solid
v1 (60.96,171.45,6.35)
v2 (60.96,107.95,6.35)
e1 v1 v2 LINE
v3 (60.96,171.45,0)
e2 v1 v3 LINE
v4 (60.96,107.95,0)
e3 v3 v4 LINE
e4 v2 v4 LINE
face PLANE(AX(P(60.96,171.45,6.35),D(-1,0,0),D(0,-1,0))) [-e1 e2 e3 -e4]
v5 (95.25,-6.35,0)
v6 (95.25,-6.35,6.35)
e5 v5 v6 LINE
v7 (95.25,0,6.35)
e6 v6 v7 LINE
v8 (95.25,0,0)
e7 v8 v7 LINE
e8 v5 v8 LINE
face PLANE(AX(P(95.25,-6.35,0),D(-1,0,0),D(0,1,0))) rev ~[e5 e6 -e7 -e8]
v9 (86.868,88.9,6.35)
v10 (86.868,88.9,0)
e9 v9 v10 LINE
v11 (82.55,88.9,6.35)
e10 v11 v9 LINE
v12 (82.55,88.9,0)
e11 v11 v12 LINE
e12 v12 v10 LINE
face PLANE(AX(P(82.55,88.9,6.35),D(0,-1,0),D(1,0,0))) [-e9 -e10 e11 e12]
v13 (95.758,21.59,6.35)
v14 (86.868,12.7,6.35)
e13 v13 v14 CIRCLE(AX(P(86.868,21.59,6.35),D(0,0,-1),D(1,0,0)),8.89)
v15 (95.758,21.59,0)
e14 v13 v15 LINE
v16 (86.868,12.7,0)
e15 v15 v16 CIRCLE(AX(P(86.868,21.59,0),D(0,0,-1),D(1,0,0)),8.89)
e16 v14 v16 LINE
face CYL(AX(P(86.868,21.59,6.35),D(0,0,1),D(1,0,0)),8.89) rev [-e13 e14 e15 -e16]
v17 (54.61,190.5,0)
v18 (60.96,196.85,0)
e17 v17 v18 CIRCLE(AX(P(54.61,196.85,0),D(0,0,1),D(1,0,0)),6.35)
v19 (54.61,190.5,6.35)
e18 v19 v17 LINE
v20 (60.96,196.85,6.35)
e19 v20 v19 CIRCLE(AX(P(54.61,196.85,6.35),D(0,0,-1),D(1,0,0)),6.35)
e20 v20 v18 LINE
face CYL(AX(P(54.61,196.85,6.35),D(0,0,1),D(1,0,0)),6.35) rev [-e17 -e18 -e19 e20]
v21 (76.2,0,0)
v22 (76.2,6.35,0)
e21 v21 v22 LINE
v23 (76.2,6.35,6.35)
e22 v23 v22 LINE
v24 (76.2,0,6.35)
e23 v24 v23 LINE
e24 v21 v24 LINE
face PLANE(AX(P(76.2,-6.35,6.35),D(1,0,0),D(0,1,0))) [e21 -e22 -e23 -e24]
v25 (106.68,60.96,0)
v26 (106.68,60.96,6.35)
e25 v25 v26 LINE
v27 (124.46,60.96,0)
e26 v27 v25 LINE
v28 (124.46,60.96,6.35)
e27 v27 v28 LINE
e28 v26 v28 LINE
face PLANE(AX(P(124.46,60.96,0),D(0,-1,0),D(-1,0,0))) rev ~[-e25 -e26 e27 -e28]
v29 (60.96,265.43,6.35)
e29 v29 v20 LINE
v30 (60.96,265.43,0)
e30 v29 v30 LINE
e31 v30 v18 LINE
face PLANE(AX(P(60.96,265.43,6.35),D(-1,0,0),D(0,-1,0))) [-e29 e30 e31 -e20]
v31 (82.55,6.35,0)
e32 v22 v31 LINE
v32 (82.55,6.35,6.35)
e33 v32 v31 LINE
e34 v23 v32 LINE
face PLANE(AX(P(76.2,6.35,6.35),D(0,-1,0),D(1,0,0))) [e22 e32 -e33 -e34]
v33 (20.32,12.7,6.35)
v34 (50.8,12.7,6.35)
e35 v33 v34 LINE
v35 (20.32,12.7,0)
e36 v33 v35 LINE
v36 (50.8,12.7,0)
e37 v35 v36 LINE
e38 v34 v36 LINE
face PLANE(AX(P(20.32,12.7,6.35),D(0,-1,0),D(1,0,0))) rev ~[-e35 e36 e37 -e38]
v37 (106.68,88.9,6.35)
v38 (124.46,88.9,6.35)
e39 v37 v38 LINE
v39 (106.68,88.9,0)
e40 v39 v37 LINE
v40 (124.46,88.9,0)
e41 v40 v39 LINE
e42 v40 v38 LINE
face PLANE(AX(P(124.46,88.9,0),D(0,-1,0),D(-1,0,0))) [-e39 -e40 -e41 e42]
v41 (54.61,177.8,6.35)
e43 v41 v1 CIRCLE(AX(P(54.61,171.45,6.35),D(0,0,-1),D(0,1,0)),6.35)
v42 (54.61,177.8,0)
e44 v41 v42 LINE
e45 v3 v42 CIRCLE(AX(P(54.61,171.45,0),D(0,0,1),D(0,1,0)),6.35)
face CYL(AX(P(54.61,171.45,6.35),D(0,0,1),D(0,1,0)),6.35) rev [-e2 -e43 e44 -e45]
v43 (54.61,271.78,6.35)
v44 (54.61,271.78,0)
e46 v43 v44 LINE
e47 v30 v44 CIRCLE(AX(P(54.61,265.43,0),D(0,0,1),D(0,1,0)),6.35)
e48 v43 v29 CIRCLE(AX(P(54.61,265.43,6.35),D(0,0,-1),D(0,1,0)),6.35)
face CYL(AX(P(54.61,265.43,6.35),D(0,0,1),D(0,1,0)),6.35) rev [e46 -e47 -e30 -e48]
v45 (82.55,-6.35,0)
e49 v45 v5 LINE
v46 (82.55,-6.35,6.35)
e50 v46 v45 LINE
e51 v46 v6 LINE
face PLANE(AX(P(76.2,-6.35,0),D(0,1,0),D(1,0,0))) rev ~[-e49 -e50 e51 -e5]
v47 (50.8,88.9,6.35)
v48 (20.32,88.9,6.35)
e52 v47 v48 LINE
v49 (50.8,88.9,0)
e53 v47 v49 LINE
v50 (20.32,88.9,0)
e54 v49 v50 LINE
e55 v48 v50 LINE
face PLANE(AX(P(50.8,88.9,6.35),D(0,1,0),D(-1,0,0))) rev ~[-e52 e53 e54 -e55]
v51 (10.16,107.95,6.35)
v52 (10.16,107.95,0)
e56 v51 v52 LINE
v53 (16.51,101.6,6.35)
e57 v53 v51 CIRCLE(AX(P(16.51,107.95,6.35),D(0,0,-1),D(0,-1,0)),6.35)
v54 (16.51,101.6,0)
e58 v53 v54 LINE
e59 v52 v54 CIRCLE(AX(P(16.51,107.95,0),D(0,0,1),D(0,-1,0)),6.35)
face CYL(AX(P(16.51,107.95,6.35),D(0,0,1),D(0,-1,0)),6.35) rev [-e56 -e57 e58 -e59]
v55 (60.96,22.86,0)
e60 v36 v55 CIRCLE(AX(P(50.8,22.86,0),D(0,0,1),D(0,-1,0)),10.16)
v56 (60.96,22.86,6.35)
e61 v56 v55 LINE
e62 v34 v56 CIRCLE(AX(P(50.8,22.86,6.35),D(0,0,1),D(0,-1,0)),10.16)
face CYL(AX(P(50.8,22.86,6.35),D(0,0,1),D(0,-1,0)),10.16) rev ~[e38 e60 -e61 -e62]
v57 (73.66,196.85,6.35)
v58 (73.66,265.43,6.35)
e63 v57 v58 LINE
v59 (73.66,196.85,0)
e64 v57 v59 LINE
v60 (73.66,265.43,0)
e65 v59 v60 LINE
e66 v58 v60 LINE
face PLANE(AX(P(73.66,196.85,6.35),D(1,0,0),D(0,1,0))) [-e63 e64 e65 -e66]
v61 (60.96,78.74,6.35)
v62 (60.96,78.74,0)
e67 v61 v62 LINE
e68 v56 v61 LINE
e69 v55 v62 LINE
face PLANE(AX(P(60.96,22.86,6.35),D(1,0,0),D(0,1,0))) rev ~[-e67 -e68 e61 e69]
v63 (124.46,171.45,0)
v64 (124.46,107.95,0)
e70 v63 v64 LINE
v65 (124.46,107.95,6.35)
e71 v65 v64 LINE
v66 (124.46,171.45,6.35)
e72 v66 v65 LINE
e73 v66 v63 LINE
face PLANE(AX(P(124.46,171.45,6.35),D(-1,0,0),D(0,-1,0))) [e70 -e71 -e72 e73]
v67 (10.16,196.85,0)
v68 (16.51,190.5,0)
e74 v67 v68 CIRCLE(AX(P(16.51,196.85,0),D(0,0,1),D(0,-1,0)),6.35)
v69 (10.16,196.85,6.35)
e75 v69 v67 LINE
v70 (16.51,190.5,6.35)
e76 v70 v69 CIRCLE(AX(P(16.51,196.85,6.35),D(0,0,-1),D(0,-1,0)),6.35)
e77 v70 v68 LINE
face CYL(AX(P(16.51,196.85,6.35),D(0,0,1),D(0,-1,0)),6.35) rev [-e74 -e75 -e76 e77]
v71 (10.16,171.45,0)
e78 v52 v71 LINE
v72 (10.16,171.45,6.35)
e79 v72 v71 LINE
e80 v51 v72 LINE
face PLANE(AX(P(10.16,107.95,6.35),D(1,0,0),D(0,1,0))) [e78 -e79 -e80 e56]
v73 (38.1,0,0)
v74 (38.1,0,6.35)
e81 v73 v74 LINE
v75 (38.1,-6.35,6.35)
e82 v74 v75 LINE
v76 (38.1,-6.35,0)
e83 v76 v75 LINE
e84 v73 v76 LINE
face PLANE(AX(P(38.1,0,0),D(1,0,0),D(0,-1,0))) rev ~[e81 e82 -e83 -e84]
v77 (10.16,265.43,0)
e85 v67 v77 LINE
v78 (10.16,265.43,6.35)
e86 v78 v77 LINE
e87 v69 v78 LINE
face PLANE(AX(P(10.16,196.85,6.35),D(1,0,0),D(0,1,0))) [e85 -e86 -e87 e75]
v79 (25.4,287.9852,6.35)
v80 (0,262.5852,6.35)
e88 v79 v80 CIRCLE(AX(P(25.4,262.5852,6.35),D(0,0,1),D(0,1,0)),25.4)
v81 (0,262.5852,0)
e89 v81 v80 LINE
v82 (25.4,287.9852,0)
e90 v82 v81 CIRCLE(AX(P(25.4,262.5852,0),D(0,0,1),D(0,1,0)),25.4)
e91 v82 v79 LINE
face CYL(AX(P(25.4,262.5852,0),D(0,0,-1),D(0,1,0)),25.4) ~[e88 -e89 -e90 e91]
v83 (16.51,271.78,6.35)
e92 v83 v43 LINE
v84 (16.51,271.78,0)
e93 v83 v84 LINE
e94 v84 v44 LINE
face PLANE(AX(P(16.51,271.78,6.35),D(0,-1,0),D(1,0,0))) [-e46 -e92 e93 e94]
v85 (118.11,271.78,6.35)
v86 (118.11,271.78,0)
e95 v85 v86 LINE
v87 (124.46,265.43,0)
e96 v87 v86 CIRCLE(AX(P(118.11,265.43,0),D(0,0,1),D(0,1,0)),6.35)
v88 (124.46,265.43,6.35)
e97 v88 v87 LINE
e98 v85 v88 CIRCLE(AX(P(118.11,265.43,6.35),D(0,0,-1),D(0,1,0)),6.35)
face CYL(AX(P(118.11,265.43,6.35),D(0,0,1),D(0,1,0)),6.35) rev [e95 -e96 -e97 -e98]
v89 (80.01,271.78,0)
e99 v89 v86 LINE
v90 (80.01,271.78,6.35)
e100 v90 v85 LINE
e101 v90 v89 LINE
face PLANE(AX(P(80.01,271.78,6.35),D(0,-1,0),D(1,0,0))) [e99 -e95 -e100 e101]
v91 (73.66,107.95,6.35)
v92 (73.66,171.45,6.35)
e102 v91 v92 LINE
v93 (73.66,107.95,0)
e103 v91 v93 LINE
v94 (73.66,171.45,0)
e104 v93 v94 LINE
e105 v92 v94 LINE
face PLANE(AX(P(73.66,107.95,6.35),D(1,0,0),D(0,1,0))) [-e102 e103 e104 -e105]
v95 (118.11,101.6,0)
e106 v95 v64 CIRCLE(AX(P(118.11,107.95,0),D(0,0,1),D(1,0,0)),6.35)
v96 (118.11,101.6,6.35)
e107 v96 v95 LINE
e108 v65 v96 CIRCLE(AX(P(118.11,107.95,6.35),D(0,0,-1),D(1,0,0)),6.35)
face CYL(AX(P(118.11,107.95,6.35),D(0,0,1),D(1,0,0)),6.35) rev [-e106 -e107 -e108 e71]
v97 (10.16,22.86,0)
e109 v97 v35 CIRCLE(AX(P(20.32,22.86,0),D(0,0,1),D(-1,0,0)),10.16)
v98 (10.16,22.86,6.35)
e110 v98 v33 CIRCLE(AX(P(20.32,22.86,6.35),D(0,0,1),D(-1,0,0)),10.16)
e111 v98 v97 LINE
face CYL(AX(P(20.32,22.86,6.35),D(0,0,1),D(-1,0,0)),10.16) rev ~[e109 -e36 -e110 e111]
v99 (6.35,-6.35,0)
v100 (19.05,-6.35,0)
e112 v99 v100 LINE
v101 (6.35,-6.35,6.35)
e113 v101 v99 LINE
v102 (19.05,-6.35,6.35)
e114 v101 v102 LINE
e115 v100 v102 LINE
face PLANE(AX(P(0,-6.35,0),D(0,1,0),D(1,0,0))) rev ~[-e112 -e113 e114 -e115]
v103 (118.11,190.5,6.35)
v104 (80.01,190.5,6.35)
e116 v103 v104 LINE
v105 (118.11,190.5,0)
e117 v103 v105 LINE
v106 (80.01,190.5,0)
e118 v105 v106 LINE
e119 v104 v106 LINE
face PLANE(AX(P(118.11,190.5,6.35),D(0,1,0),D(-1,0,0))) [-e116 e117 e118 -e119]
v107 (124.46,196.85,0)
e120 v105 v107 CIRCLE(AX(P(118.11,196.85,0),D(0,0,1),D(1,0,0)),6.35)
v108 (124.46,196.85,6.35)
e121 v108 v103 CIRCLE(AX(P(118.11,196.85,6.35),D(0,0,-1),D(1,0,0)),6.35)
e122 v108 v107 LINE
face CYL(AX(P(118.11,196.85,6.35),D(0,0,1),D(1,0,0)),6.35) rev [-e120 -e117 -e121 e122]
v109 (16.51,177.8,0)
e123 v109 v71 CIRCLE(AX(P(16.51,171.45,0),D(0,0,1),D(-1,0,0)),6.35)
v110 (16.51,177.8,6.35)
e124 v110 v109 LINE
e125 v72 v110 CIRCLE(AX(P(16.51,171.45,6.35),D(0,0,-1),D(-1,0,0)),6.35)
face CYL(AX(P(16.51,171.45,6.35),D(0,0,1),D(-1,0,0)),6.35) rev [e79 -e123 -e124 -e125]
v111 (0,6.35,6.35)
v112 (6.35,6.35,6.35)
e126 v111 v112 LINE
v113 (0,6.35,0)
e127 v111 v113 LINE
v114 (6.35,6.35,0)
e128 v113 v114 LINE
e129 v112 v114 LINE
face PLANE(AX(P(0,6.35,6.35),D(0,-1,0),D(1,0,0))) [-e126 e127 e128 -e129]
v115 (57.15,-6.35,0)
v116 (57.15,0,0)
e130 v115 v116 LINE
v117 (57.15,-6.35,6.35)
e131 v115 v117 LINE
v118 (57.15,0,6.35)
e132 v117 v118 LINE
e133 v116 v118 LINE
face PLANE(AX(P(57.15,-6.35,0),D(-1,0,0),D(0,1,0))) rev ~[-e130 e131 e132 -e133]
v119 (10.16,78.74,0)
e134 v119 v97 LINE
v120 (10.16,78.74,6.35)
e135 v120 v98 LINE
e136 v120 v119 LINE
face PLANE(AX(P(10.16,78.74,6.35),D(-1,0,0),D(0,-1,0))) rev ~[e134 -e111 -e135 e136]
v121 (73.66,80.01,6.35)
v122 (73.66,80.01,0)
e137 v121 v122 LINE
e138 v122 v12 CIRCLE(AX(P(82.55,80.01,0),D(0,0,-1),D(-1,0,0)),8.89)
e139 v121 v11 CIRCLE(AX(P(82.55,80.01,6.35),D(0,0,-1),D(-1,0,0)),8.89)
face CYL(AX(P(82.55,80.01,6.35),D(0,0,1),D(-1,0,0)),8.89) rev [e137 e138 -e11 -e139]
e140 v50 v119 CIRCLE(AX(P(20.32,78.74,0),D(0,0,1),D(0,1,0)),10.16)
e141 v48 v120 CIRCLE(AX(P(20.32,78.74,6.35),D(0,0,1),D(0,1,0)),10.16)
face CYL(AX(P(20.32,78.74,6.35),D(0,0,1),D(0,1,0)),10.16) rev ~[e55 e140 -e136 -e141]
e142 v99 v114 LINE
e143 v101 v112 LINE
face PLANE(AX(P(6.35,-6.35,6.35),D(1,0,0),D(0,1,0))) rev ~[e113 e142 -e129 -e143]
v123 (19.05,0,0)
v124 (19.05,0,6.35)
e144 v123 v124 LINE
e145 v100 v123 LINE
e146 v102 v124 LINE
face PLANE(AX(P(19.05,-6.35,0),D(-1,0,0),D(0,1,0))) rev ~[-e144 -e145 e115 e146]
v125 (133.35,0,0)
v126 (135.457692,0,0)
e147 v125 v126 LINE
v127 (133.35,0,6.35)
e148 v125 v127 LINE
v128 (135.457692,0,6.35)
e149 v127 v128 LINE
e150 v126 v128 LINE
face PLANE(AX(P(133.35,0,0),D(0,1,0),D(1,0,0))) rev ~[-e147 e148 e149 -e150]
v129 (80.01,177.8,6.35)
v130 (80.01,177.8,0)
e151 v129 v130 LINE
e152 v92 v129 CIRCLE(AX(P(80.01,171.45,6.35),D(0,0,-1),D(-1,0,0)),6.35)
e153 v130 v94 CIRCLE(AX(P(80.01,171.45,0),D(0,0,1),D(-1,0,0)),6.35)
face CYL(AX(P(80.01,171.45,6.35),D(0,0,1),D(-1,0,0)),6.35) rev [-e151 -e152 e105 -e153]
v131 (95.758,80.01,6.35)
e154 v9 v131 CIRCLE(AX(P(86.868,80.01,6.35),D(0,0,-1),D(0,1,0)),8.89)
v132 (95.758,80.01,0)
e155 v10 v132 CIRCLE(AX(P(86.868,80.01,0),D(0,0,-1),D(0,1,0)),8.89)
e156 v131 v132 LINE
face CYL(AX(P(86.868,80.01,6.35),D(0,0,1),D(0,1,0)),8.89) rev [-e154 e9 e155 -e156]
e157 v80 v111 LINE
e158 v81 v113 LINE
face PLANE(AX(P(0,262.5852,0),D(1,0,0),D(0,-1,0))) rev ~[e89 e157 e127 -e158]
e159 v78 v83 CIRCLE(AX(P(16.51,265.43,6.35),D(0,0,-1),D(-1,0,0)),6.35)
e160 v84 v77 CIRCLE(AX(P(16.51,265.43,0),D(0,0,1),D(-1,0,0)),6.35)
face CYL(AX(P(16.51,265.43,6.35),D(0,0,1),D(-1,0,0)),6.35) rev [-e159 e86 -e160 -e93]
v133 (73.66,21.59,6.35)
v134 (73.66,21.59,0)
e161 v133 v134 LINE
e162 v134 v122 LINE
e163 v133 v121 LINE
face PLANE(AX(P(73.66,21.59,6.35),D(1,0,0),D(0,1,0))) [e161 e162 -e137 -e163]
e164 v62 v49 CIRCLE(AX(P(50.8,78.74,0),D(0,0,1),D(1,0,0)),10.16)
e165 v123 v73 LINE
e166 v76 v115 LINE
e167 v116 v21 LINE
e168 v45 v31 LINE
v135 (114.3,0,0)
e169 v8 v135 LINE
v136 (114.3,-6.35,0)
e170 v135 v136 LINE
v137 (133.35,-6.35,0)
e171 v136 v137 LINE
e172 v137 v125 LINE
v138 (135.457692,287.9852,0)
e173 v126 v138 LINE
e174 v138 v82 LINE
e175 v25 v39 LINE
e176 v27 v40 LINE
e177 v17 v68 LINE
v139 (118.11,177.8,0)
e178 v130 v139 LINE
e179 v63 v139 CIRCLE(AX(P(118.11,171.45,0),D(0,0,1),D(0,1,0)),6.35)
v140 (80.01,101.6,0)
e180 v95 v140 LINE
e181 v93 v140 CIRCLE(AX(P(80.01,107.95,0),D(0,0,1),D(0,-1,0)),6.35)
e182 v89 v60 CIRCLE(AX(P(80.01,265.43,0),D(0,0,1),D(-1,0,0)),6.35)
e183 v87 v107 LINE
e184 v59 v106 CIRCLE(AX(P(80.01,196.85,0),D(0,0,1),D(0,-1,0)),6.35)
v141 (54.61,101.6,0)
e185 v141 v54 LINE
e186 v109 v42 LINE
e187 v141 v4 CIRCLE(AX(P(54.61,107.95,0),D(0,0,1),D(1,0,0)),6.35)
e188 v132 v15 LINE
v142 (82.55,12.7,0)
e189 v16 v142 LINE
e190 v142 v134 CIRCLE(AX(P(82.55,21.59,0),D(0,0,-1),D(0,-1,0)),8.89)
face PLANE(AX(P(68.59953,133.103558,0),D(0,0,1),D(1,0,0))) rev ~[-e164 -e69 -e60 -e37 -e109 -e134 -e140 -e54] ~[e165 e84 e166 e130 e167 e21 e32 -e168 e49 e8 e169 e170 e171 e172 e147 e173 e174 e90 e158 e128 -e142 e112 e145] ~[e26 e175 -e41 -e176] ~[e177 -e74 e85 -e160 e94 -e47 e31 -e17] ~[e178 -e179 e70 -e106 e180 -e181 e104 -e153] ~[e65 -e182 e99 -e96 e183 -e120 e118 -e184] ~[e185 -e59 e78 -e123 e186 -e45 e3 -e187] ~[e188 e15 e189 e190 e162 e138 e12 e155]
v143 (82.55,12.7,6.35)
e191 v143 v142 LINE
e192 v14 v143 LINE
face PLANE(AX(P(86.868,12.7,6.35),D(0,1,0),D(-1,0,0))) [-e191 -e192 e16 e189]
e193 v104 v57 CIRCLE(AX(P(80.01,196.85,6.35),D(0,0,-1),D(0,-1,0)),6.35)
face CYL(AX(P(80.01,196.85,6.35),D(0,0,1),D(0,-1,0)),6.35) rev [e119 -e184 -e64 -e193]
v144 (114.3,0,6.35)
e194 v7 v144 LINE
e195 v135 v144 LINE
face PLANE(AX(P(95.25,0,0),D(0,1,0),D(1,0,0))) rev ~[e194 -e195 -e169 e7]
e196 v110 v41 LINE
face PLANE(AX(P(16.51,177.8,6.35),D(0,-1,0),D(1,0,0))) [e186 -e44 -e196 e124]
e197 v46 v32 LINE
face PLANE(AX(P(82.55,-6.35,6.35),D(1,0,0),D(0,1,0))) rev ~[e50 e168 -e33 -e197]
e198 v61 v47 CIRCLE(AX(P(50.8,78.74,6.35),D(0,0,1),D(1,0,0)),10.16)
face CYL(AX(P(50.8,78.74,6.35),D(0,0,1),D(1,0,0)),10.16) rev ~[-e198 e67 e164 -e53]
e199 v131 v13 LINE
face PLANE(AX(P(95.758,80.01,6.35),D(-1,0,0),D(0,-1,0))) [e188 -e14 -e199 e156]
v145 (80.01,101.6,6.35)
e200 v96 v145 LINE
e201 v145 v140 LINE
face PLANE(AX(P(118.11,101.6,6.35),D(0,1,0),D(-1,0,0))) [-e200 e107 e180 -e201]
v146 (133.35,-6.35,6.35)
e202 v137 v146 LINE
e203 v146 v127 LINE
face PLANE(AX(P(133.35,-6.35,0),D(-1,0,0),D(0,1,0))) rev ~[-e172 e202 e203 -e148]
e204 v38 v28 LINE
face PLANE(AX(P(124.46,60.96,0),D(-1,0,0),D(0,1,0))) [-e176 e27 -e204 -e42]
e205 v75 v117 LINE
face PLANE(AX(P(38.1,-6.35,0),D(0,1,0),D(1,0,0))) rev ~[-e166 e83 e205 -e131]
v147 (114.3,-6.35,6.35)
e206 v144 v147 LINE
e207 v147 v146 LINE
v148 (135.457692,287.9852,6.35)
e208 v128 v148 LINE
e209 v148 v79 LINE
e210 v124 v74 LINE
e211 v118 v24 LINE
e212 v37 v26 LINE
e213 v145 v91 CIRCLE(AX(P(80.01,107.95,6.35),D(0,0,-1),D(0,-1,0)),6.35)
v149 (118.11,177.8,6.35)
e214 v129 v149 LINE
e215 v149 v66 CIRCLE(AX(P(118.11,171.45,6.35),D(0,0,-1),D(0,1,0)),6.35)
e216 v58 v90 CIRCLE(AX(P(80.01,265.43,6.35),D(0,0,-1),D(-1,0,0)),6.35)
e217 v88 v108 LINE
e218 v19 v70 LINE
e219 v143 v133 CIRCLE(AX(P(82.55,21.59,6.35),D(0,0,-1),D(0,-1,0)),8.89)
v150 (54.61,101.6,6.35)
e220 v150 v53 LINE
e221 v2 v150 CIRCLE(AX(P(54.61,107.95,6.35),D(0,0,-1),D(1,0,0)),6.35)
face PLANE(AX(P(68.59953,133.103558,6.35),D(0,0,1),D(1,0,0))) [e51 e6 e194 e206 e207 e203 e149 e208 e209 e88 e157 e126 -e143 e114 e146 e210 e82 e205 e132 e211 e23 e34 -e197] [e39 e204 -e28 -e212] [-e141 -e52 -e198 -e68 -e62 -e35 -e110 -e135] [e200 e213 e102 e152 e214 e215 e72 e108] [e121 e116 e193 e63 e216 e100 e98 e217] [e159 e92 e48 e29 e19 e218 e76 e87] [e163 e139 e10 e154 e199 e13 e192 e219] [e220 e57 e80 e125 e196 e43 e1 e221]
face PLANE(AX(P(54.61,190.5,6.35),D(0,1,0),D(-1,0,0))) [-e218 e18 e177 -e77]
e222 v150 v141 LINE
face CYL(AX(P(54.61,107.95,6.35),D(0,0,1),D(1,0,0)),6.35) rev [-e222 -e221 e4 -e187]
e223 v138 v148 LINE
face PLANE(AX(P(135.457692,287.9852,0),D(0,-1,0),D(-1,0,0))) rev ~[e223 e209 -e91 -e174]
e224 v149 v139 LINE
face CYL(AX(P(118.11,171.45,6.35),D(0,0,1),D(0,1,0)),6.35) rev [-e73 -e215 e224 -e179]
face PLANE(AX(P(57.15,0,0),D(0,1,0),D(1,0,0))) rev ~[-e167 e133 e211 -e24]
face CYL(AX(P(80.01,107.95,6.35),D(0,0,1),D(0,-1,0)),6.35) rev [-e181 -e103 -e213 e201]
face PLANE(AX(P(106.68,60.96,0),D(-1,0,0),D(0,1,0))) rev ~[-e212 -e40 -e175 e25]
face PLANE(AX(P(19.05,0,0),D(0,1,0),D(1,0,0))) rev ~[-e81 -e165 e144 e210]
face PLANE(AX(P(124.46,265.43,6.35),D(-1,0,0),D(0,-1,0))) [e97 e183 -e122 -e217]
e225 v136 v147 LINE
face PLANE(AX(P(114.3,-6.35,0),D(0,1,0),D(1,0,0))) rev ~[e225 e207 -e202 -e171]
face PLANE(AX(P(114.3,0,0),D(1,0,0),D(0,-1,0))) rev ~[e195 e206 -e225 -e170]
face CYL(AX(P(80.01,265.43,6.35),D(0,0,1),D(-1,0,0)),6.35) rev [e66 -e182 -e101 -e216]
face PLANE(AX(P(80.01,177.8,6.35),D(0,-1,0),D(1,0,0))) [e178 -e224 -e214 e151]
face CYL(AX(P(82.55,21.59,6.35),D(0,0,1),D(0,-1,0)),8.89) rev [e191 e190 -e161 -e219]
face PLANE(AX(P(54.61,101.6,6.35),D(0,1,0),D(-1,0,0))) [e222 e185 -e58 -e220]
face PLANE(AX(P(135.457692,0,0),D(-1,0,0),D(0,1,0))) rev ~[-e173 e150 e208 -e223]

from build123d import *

# Parameters (mm, degrees)
BOSS_EXTRUDE1_DEPTH = 6.35
CUT_EXTRUDE1_DEPTH  = 319.315227787
SKETCH3_W           = 6.35
SKETCH3_H           = 12.7
CUT_EXTRUDE2_DEPTH  = 319.315227787
SKETCH4_W           = 58.894470958
SKETCH4_H           = 80.433020337
BOSS_EXTRUDE3_DEPTH = 6.35
SKETCH6_W           = 17.78
SKETCH6_H           = 27.94
CUT_EXTRUDE3_DEPTH  = 319.315227787
CUT_EXTRUDE4_DEPTH  = 6.35


with BuildPart() as part:
    # Sketch1 → Boss-Extrude1 (new body)
    with BuildSketch(Plane.XY):
        with BuildLine():
            Line((133.35, 0), (135.457692, 0))
            Line((135.457692, 0), (135.457692, 287.9852))
            Line((135.457692, 287.9852), (25.4, 287.9852))
            ThreePointArc((25.4, 287.9852), (7.439487758, 280.545712242), (0, 262.5852))
            Line((0, 262.5852), (0, 0))
            Line((0, 0), (0, -6.35))
            Line((0, -6.35), (19.05, -6.35))
            Line((19.05, -6.35), (19.05, 0))
            Line((19.05, 0), (38.1, 0))
            Line((38.1, 0), (38.1, -6.35))
            Line((38.1, -6.35), (57.15, -6.35))
            Line((57.15, -6.35), (57.15, 0))
            Line((57.15, 0), (76.2, 0))
            Line((76.2, 0), (76.2, -6.35))
            Line((76.2, -6.35), (95.25, -6.35))
            Line((95.25, -6.35), (95.25, 0))
            Line((95.25, 0), (114.3, 0))
            Line((114.3, 0), (114.3, -6.35))
            Line((114.3, -6.35), (133.35, -6.35))
            Line((133.35, -6.35), (133.35, 0))
        make_face()
    extrude(amount=BOSS_EXTRUDE1_DEPTH)

    # Sketch2 → Cut-Extrude1 (cut, through all)
    with BuildSketch(Plane.XY.offset(6.35)):
        with BuildLine():
            Line((73.66, 22.86), (73.66, 78.74))
            ThreePointArc((73.66, 78.74), (76.635795103, 85.924204897), (83.82, 88.9))
            Line((83.82, 88.9), (114.3, 88.9))
            ThreePointArc((114.3, 88.9), (121.484204897, 85.924204897), (124.46, 78.74))
            Line((124.46, 78.74), (124.46, 22.86))
            ThreePointArc((124.46, 22.86), (121.484204897, 15.675795103), (114.3, 12.7))
            Line((114.3, 12.7), (83.82, 12.7))
            ThreePointArc((83.82, 12.7), (76.635795103, 15.675795103), (73.66, 22.86))
        make_face()
        with BuildLine():
            Line((20.32, 12.7), (50.8, 12.7))
            ThreePointArc((50.8, 12.7), (57.984204897, 15.675795103), (60.96, 22.86))
            Line((60.96, 22.86), (60.96, 78.74))
            ThreePointArc((60.96, 78.74), (57.984204897, 85.924204897), (50.8, 88.9))
            Line((50.8, 88.9), (20.32, 88.9))
            ThreePointArc((20.32, 88.9), (13.135795103, 85.924204897), (10.16, 78.74))
            Line((10.16, 78.74), (10.16, 22.86))
            ThreePointArc((10.16, 22.86), (13.135795103, 15.675795103), (20.32, 12.7))
        make_face()
        with BuildLine():
            Line((73.66, 196.85), (73.66, 265.43))
            ThreePointArc((73.66, 265.43), (75.519871939, 269.920128061), (80.01, 271.78))
            Line((80.01, 271.78), (118.11, 271.78))
            ThreePointArc((118.11, 271.78), (122.600128061, 269.920128061), (124.46, 265.43))
            Line((124.46, 265.43), (124.46, 196.85))
            ThreePointArc((124.46, 196.85), (122.600128061, 192.359871939), (118.11, 190.5))
            Line((118.11, 190.5), (80.01, 190.5))
            ThreePointArc((80.01, 190.5), (75.519871939, 192.359871939), (73.66, 196.85))
        make_face()
        with BuildLine():
            Line((10.16, 196.85), (10.16, 265.43))
            ThreePointArc((10.16, 265.43), (12.019871939, 269.920128061), (16.51, 271.78))
            Line((16.51, 271.78), (54.61, 271.78))
            ThreePointArc((54.61, 271.78), (59.100128061, 269.920128061), (60.96, 265.43))
            Line((60.96, 265.43), (60.96, 196.85))
            ThreePointArc((60.96, 196.85), (59.100128061, 192.359871939), (54.61, 190.5))
            Line((54.61, 190.5), (16.51, 190.5))
            ThreePointArc((16.51, 190.5), (12.019871939, 192.359871939), (10.16, 196.85))
        make_face()
        with BuildLine():
            Line((73.66, 107.95), (73.66, 171.45))
            ThreePointArc((73.66, 171.45), (75.519871939, 175.940128061), (80.01, 177.8))
            Line((80.01, 177.8), (118.11, 177.8))
            ThreePointArc((118.11, 177.8), (122.600128061, 175.940128061), (124.46, 171.45))
            Line((124.46, 171.45), (124.46, 107.95))
            ThreePointArc((124.46, 107.95), (122.600128061, 103.459871939), (118.11, 101.6))
            Line((118.11, 101.6), (80.01, 101.6))
            ThreePointArc((80.01, 101.6), (75.519871939, 103.459871939), (73.66, 107.95))
        make_face()
        with BuildLine():
            Line((10.16, 107.95), (10.16, 171.45))
            ThreePointArc((10.16, 171.45), (12.019871939, 175.940128061), (16.51, 177.8))
            Line((16.51, 177.8), (54.61, 177.8))
            ThreePointArc((54.61, 177.8), (59.100128061, 175.940128061), (60.96, 171.45))
            Line((60.96, 171.45), (60.96, 107.95))
            ThreePointArc((60.96, 107.95), (59.100128061, 103.459871939), (54.61, 101.6))
            Line((54.61, 101.6), (16.51, 101.6))
            ThreePointArc((16.51, 101.6), (12.019871939, 103.459871939), (10.16, 107.95))
        make_face()
    extrude(amount=-CUT_EXTRUDE1_DEPTH, mode=Mode.SUBTRACT)

    # Sketch3 → Cut-Extrude2 (cut, through all)
    with BuildSketch(Plane.XY.offset(6.35)):
        with Locations((3.175, 0)):
            Rectangle(SKETCH3_W, SKETCH3_H)
        with Locations((79.375, 0)):
            Rectangle(SKETCH3_W, SKETCH3_H)
    extrude(amount=-CUT_EXTRUDE2_DEPTH, mode=Mode.SUBTRACT)

    # Sketch4 → Boss-Extrude3 (add)
    with BuildSketch(Plane.XY.offset(6.35)):
        with Locations((98.603069985, 49.657450477)):
            Rectangle(SKETCH4_W, SKETCH4_H)
    extrude(amount=-BOSS_EXTRUDE3_DEPTH)

    # Sketch6 → Cut-Extrude3 (cut, through all)
    with BuildSketch(Plane(origin=(0, 0, 0), x_dir=(-1, 0, 0), z_dir=(0, 0, -1))):
        with Locations((-115.57, 74.93)):
            Rectangle(SKETCH6_W, SKETCH6_H)
    extrude(amount=-CUT_EXTRUDE3_DEPTH, mode=Mode.SUBTRACT)

    # Sketch7 → Cut-Extrude4 (cut)
    with BuildSketch(Plane.XY.offset(6.35)):
        with BuildLine():
            Line((82.55, 88.9), (86.868, 88.9))
            ThreePointArc((86.868, 88.9), (93.154179285, 86.296179285), (95.758, 80.01))
            Line((95.758, 80.01), (95.758, 21.59))
            ThreePointArc((95.758, 21.59), (93.154179285, 15.303820715), (86.868, 12.7))
            Line((86.868, 12.7), (82.55, 12.7))
            ThreePointArc((82.55, 12.7), (76.263820715, 15.303820715), (73.66, 21.59))
            Line((73.66, 21.59), (73.66, 80.01))
            ThreePointArc((73.66, 80.01), (76.263820715, 86.296179285), (82.55, 88.9))
        make_face()
    extrude(amount=-CUT_EXTRUDE4_DEPTH, mode=Mode.SUBTRACT)


solid = part.part
